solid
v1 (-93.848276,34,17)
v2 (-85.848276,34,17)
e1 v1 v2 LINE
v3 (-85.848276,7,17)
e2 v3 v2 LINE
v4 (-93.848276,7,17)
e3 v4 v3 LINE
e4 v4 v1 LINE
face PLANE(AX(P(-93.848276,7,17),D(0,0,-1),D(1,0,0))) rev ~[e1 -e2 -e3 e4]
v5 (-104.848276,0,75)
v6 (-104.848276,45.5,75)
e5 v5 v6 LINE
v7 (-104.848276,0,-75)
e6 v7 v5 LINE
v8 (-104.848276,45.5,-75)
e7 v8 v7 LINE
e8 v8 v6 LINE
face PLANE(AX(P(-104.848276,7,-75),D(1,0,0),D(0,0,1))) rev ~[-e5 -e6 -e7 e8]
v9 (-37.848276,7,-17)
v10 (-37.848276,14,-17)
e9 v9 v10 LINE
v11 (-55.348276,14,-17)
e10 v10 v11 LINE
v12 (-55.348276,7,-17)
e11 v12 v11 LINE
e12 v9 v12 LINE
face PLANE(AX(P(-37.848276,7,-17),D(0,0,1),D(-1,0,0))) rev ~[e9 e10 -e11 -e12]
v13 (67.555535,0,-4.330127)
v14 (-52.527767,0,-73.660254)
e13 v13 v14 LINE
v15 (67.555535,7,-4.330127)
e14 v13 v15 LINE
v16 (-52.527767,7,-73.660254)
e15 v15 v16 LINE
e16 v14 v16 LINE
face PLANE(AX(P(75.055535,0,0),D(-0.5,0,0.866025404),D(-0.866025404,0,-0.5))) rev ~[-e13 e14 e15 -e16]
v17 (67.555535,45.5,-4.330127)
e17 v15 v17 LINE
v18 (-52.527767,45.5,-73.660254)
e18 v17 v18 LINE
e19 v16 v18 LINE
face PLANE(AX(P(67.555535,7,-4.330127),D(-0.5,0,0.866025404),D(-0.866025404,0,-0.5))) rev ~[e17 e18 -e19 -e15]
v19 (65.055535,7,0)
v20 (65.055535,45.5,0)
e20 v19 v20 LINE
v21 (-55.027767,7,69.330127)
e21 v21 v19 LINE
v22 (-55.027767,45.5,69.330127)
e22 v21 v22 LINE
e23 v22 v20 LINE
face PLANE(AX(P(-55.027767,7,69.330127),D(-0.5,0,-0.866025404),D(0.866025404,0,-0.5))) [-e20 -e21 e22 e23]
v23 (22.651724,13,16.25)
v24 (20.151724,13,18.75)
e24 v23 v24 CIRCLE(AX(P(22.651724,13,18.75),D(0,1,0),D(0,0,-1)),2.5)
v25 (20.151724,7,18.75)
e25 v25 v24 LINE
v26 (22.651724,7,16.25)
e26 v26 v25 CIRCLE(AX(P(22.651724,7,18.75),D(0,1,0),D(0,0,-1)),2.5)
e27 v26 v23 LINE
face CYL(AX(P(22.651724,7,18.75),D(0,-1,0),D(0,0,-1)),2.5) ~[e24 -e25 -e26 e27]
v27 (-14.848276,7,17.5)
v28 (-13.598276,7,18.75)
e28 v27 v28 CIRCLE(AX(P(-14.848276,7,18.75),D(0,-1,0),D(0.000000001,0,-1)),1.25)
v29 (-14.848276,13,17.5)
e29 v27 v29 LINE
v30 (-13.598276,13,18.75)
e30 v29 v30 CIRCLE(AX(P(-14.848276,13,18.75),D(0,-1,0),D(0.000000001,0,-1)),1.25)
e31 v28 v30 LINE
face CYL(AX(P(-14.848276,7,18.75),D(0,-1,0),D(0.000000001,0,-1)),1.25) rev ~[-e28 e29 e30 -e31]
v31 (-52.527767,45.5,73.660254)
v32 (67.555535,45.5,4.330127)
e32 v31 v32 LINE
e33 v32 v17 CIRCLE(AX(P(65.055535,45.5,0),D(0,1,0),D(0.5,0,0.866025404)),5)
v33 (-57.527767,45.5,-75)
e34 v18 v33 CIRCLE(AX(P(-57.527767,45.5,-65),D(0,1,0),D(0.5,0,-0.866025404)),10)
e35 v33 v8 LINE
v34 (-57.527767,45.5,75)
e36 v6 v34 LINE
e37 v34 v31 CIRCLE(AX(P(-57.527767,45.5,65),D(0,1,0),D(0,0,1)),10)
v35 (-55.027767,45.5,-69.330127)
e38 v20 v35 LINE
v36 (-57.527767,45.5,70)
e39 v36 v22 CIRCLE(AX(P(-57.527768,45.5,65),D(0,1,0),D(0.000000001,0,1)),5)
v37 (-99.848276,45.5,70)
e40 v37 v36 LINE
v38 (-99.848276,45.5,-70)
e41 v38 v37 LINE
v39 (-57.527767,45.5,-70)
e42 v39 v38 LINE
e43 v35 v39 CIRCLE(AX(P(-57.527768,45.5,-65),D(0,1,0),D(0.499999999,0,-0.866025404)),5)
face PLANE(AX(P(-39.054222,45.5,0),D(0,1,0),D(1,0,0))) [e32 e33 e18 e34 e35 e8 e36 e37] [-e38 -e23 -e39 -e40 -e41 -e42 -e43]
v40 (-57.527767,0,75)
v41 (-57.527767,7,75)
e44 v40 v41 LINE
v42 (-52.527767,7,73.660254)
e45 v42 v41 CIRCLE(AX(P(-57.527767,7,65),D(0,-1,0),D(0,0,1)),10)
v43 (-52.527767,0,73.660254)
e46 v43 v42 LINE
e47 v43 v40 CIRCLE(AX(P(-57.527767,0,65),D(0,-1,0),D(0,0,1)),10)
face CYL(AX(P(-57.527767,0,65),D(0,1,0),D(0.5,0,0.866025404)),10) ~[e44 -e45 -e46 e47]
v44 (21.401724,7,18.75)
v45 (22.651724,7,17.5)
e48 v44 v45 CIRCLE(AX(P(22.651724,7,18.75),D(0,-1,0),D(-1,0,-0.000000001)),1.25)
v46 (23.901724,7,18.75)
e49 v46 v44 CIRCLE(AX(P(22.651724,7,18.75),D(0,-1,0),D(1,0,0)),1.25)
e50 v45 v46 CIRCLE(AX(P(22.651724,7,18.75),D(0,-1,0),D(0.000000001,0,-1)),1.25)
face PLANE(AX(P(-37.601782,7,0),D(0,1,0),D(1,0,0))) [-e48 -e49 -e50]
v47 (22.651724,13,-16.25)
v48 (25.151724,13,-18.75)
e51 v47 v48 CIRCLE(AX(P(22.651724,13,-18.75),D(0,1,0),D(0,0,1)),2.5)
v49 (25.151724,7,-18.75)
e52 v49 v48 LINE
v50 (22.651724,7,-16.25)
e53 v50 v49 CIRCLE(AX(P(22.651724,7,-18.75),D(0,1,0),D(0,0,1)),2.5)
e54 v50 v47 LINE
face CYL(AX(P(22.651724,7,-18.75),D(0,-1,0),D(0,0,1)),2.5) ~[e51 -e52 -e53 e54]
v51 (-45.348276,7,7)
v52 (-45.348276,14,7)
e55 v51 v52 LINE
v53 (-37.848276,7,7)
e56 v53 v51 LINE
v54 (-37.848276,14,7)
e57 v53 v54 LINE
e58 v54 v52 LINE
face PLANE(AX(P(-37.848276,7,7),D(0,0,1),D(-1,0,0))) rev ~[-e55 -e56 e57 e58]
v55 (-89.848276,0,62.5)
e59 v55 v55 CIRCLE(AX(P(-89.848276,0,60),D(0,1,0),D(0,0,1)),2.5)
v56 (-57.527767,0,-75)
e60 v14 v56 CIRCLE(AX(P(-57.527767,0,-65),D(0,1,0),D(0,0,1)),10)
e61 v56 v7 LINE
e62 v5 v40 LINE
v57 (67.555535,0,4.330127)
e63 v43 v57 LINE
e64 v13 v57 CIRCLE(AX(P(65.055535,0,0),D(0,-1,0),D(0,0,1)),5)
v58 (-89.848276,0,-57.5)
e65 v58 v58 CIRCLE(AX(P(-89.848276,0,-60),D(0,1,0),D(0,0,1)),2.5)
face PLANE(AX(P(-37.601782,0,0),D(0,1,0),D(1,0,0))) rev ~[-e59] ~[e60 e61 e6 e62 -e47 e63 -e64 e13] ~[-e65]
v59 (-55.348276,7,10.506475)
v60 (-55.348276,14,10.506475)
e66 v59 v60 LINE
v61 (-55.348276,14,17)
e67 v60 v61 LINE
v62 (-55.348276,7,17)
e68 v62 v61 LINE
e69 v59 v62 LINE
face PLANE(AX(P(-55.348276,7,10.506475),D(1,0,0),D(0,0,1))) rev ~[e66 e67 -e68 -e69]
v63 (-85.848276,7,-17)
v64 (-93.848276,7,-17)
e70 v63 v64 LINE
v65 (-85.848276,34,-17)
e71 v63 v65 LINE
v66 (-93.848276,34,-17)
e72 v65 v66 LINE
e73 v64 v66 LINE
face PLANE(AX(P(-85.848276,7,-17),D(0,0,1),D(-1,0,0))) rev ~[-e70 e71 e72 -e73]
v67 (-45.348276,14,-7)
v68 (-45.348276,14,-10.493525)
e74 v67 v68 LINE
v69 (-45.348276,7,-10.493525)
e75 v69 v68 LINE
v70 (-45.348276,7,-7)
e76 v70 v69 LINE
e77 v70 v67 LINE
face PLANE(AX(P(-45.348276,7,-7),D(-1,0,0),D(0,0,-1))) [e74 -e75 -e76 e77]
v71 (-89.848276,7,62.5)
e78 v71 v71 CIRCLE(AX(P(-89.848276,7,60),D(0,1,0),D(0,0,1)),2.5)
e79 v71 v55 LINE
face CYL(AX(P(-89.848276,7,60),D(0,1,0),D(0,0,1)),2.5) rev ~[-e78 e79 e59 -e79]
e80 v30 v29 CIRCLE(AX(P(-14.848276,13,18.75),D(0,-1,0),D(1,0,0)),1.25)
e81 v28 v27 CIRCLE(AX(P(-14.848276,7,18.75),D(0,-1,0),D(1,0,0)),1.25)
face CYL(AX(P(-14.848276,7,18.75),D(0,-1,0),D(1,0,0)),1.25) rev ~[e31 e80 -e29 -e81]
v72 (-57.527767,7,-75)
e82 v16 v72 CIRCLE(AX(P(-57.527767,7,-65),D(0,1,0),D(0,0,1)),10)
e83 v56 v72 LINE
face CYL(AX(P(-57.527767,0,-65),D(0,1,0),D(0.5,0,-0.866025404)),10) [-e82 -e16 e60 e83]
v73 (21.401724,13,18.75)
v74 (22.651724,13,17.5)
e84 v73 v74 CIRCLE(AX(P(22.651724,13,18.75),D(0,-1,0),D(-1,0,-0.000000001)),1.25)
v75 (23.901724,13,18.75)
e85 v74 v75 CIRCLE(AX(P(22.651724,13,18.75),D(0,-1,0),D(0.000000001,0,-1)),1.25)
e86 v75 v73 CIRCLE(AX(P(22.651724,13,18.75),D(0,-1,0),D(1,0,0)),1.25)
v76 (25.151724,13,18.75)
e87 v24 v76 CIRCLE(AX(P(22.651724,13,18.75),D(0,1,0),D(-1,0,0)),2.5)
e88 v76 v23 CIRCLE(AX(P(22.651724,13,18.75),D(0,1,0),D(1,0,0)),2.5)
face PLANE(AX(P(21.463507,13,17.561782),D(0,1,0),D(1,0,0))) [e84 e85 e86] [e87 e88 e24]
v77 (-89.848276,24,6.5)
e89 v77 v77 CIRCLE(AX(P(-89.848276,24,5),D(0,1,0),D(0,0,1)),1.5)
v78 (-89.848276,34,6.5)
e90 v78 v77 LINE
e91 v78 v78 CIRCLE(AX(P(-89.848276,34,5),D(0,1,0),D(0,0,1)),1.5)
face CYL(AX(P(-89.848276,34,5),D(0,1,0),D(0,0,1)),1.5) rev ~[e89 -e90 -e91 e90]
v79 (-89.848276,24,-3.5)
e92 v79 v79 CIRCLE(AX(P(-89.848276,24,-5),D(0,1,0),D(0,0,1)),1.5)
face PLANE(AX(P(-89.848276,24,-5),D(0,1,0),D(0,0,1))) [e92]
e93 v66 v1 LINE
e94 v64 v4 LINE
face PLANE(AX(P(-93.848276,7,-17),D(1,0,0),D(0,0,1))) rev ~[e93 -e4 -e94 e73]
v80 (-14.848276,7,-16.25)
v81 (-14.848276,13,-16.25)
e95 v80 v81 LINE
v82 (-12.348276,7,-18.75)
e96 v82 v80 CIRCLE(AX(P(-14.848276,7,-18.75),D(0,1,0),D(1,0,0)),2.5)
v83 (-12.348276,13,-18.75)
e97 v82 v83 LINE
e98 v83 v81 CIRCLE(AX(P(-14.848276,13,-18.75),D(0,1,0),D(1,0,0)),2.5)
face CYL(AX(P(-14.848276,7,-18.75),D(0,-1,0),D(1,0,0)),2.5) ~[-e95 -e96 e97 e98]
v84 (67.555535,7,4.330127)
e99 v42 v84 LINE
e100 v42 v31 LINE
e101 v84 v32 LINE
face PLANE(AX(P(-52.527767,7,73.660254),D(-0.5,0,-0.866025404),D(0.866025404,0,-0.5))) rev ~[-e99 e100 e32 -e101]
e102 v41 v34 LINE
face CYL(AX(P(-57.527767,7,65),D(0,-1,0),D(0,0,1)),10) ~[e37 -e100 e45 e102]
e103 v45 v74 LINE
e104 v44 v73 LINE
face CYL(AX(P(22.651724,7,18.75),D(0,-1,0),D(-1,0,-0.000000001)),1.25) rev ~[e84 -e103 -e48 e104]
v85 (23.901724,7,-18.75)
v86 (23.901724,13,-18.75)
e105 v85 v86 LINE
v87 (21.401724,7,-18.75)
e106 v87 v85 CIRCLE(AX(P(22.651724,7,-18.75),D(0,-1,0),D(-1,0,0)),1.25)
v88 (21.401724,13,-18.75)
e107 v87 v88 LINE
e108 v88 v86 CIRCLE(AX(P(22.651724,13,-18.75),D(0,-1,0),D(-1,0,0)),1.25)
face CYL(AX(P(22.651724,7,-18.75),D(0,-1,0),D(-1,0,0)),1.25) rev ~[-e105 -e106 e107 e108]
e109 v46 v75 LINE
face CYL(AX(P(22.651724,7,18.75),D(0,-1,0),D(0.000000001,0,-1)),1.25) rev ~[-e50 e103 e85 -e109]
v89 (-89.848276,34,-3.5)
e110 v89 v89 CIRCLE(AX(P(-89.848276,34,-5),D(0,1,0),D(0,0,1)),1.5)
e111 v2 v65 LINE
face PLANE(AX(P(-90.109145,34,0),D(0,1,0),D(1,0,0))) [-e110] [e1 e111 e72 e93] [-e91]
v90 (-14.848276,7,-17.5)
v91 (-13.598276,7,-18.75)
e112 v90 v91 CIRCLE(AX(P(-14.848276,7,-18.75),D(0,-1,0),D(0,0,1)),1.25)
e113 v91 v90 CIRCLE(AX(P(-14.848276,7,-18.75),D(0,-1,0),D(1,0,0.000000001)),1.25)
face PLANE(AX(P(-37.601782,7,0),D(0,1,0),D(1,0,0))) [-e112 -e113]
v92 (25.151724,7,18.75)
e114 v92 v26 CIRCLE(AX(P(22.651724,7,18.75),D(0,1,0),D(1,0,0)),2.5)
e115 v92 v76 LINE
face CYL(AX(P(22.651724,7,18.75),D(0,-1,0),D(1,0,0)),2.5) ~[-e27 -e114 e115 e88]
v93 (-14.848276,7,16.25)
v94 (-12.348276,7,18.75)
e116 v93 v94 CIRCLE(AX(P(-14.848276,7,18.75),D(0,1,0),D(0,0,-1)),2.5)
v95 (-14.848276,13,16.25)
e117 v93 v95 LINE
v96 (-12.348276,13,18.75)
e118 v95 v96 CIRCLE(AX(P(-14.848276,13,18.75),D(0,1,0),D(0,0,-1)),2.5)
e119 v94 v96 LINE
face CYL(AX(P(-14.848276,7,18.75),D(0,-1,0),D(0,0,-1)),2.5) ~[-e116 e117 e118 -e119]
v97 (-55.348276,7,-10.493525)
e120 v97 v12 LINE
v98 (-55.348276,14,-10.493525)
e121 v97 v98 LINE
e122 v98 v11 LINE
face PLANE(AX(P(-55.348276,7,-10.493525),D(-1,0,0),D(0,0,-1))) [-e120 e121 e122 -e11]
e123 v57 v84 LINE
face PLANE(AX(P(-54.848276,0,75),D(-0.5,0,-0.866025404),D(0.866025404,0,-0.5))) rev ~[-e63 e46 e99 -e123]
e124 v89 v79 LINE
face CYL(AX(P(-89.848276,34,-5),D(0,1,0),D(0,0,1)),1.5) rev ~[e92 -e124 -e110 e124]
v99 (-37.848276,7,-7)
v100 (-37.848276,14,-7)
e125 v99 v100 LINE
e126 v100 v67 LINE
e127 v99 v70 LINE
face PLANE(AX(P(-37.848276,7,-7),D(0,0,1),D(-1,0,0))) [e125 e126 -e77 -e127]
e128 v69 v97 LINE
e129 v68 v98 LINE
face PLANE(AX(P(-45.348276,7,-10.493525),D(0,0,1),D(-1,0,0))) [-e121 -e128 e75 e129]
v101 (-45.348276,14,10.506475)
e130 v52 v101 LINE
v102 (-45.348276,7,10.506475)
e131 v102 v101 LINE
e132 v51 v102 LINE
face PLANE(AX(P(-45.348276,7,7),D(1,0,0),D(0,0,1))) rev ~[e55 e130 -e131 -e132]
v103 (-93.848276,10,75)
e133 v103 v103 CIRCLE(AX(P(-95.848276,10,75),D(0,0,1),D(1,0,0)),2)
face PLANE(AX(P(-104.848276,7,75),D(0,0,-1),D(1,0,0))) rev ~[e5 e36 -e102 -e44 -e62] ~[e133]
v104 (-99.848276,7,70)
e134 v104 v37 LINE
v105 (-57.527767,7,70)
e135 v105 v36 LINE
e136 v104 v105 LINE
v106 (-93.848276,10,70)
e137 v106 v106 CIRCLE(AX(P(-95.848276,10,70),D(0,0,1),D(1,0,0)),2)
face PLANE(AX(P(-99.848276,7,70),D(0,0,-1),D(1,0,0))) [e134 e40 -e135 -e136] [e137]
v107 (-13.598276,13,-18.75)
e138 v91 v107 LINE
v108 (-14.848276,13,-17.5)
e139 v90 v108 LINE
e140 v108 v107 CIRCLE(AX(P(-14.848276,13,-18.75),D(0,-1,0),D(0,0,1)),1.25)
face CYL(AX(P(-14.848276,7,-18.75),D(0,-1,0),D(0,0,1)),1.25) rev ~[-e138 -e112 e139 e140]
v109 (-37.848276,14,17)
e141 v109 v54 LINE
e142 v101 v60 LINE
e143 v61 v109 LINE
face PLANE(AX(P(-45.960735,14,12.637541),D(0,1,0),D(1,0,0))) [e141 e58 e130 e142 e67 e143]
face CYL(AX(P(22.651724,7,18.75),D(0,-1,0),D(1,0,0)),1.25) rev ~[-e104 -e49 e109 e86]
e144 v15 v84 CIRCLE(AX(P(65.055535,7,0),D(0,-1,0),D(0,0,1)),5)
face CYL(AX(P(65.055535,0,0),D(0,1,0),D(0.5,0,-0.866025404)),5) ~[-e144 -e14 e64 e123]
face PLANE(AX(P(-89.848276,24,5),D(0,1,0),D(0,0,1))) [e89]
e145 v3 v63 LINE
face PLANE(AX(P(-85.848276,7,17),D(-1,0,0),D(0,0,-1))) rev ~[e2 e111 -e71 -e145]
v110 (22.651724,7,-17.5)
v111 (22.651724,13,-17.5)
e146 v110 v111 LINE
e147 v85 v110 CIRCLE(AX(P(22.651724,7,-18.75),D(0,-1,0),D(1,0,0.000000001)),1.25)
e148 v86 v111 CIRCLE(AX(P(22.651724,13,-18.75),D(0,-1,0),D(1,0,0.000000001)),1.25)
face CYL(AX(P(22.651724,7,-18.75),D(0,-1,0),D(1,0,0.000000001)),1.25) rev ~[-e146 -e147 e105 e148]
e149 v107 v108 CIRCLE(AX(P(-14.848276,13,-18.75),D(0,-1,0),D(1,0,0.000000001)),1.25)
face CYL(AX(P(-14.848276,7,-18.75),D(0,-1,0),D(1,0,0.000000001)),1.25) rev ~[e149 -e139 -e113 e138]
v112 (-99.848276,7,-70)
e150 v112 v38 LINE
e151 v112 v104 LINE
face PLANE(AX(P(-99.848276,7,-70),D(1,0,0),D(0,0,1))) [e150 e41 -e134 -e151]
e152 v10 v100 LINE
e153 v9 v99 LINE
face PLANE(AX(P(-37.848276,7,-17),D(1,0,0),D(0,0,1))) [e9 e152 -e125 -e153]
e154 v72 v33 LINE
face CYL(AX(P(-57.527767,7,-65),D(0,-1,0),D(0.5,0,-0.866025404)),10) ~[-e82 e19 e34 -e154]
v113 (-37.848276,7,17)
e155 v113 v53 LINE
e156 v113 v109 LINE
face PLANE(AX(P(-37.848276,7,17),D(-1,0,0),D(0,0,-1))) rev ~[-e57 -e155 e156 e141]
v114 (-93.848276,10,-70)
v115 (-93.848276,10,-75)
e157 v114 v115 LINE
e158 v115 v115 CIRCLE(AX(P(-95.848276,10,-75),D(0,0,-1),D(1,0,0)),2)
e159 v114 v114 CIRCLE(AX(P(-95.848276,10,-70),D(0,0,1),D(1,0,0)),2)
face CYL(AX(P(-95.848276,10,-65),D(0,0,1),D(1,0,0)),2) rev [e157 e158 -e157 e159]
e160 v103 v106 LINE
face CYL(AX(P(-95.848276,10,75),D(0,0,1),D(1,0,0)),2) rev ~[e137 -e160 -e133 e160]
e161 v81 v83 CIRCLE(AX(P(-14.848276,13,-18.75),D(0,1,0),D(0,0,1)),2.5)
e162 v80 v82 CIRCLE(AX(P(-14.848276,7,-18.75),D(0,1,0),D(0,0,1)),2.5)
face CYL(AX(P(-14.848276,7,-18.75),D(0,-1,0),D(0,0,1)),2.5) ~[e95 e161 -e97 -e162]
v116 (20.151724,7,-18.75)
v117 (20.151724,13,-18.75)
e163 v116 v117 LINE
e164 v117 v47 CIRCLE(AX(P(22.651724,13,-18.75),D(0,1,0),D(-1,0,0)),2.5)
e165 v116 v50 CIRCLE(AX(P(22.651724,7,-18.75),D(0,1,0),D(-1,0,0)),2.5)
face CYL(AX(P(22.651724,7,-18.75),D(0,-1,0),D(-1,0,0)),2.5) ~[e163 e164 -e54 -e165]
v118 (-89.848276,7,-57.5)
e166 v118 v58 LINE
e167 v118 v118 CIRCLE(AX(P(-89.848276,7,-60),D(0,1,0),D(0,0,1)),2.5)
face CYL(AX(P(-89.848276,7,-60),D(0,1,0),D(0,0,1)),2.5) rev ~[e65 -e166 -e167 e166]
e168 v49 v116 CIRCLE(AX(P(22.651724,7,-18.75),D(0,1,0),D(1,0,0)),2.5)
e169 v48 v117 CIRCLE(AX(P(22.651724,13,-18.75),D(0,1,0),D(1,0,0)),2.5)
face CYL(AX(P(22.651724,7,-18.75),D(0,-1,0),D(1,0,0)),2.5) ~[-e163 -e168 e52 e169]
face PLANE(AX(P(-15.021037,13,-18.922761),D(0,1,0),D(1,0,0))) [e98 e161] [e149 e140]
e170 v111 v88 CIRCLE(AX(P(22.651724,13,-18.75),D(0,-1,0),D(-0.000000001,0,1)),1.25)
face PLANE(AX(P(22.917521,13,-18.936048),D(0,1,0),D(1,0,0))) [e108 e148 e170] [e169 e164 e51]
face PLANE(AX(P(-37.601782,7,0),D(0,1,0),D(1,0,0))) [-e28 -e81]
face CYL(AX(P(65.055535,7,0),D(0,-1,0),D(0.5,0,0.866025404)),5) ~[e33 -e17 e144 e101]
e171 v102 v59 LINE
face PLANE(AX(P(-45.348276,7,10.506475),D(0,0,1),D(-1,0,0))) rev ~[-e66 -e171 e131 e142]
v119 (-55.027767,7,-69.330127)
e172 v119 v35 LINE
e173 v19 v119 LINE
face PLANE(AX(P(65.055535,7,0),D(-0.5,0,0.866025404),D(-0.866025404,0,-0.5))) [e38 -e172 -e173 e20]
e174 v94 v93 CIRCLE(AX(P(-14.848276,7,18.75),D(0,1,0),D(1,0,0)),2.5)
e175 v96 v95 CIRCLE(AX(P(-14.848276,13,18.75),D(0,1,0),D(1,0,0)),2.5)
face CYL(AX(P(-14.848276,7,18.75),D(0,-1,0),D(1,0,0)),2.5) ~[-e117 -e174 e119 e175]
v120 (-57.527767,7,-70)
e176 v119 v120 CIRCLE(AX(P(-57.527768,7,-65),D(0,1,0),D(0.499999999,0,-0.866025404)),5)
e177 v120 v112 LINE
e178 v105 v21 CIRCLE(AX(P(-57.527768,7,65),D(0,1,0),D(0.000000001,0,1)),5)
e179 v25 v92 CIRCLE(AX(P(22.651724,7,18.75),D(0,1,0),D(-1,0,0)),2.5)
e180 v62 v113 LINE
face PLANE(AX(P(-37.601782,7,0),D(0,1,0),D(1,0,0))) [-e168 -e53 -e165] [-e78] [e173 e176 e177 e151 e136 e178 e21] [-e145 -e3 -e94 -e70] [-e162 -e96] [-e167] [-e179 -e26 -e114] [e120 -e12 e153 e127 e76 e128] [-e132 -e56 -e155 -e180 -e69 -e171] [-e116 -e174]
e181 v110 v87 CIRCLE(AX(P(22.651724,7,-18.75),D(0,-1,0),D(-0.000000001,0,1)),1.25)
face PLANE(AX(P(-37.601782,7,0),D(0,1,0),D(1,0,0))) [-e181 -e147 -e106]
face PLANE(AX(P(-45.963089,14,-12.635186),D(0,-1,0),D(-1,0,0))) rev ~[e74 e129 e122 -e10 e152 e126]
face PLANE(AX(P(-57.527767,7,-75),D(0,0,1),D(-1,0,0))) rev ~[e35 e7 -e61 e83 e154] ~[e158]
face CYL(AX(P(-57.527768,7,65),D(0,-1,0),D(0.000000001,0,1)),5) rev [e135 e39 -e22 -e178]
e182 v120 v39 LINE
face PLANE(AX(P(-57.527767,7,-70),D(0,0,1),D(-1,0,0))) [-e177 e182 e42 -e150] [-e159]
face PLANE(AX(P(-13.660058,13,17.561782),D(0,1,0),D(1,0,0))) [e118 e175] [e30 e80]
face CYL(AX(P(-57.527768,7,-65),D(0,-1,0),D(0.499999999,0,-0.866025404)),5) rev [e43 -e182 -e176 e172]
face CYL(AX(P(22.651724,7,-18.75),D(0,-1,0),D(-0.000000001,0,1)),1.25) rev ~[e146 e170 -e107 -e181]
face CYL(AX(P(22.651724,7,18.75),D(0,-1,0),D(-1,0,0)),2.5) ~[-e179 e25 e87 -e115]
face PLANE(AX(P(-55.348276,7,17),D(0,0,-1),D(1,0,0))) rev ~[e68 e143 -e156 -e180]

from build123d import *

# Parameters (mm, degrees)
BOSS_EXTRUDE1_DEPTH = 7
FILLET1_R           = 5
FILLET2_R           = 10
CUT_EXTRUDE1_REACH  = 131.101
SKETCH3_R           = 2.5
BOSS_EXTRUDE2_DEPTH = 6
SKETCH7_W           = 4
SKETCH7_H           = 10
BOSS_EXTRUDE3_DEPTH = 27
SKETCH8_R           = 1.5
CUT_EXTRUDE2_DEPTH  = 10
BOSS_EXTRUDE4_DEPTH = 7
BOSS_EXTRUDE5_DEPTH = 7
BOSS_EXTRUDE6_DEPTH = 38.5
SKETCH14_R          = 2
CUT_EXTRUDE3_DEPTH  = 10
CUT_EXTRUDE4_START  = -10
SKETCH15_R          = 2
CUT_EXTRUDE4_DEPTH  = 10


with BuildPart() as part:
    # Sketch1 → Boss-Extrude1 (new body)
    with BuildSketch(Plane(origin=(0, 0, 0), x_dir=(1, 0, 0), z_dir=(0, 1, 0))):
        Polygon((75.055534995, 0), (-54.848275573, 75), (-104.848275573, 75), (-104.848275573, -75), (-54.848275573, -75), align=None)
    extrude(amount=BOSS_EXTRUDE1_DEPTH)

    # Fillet1
    fillet1_edges = [part.edges().sort_by_distance(p)[0] for p in [
        (75.055534995, 3.5, 0),
    ]]
    fillet(fillet1_edges, radius=FILLET1_R)

    # Fillet2
    fillet2_edges = [part.edges().sort_by_distance(p)[0] for p in [
        (-54.848275573, 3.5, 75),
        (-54.848275573, 3.5, -75),
    ]]
    fillet(fillet2_edges, radius=FILLET2_R)

    # Sketch3 → Cut-Extrude1 (cut, up to next)
    with BuildSketch(Plane(origin=(0, 7, 0), x_dir=(1, 0, 0), z_dir=(0, 1, 0)), mode=Mode.PRIVATE) as cut_extrude1_sk1:
        with Locations(Location((-89.848275573, 60, 0), (0, 0, 270))):
            Circle(SKETCH3_R)
    cut_extrude1_tool1 = extrude(cut_extrude1_sk1.sketch, amount=-CUT_EXTRUDE1_REACH, mode=Mode.PRIVATE) & part.part
    # Sketch3 → Cut-Extrude1 (cut, up to next)
    with BuildSketch(Plane(origin=(0, 7, 0), x_dir=(1, 0, 0), z_dir=(0, 1, 0)), mode=Mode.PRIVATE) as cut_extrude1_sk2:
        with Locations(Location((-89.848275573, -60, 0), (0, 0, 270))):
            Circle(SKETCH3_R)
    cut_extrude1_tool2 = extrude(cut_extrude1_sk2.sketch, amount=-CUT_EXTRUDE1_REACH, mode=Mode.PRIVATE) & part.part
    add(cut_extrude1_tool1.solids().sort_by_distance((-89.848276, 7, -60))[0], mode=Mode.SUBTRACT)
    add(cut_extrude1_tool2.solids().sort_by_distance((-89.848276, 7, 60))[0], mode=Mode.SUBTRACT)

    # Sketch6 → Boss-Extrude2 (add)
    with BuildSketch(Plane(origin=(0, 7, 0), x_dir=(1, 0, 0), z_dir=(0, 1, 0))):
        with BuildLine():
            ThreePointArc((-14.848275573, 17.5), (-15.732159049, 19.633883476), (-13.598275573, 18.75))
            Line((-13.598275573, 18.75), (-12.348275573, 18.75))
            ThreePointArc((-12.348275573, 18.75), (-16.616042526, 20.517766953), (-14.848275573, 16.25))
            Line((-14.848275573, 16.25), (-14.848275573, 17.5))
        make_face()
        with BuildLine():
            Line((-12.348275573, 18.75), (-13.598275573, 18.75))
            ThreePointArc((-13.598275573, 18.75), (-13.964392097, 17.866116524), (-14.848275573, 17.5))
            Line((-14.848275573, 17.5), (-14.848275573, 16.25))
            ThreePointArc((-14.848275573, 16.25), (-13.08050862, 16.982233047), (-12.348275573, 18.75))
        make_face()
        with BuildLine():
            ThreePointArc((23.901724427, 18.75), (23.535607903, 17.866116524), (22.651724427, 17.5))
            Line((22.651724427, 17.5), (22.651724427, 16.25))
            ThreePointArc((22.651724427, 16.25), (24.41949138, 16.982233047), (25.151724427, 18.75))
            ThreePointArc((25.151724427, 18.75), (22.651724427, 21.25), (20.151724427, 18.75))
            Line((20.151724427, 18.75), (21.401724427, 18.75))
            ThreePointArc((21.401724427, 18.75), (22.651724427, 20), (23.901724427, 18.75))
        make_face()
        with BuildLine():
            Line((22.651724427, 16.25), (22.651724427, 17.5))
            ThreePointArc((22.651724427, 17.5), (21.767840951, 17.866116524), (21.401724427, 18.75))
            Line((21.401724427, 18.75), (20.151724427, 18.75))
            ThreePointArc((20.151724427, 18.75), (20.883957474, 16.982233047), (22.651724427, 16.25))
        make_face()
        with BuildLine():
            ThreePointArc((22.651724427, -16.25), (20.883957474, -16.982233047), (20.151724427, -18.75))
            Line((20.151724427, -18.75), (21.401724427, -18.75))
            ThreePointArc((21.401724427, -18.75), (21.767840951, -17.866116524), (22.651724427, -17.5))
            Line((22.651724427, -17.5), (22.651724427, -16.25))
        make_face()
        with BuildLine():
            Line((21.401724427, -18.75), (20.151724427, -18.75))
            ThreePointArc((20.151724427, -18.75), (22.651724427, -21.25), (25.151724427, -18.75))
            ThreePointArc((25.151724427, -18.75), (24.41949138, -16.982233047), (22.651724427, -16.25))
            Line((22.651724427, -16.25), (22.651724427, -17.5))
            ThreePointArc((22.651724427, -17.5), (23.535607903, -17.866116524), (23.901724427, -18.75))
            ThreePointArc((23.901724427, -18.75), (22.651724427, -20), (21.401724427, -18.75))
        make_face()
        with BuildLine():
            ThreePointArc((-14.848275573, -17.5), (-13.964392097, -17.866116524), (-13.598275573, -18.75))
            Line((-13.598275573, -18.75), (-12.348275573, -18.75))
            ThreePointArc((-12.348275573, -18.75), (-13.08050862, -16.982233047), (-14.848275573, -16.25))
            Line((-14.848275573, -16.25), (-14.848275573, -17.5))
        make_face()
        with BuildLine():
            Line((-12.348275573, -18.75), (-13.598275573, -18.75))
            ThreePointArc((-13.598275573, -18.75), (-15.732159049, -19.633883476), (-14.848275573, -17.5))
            Line((-14.848275573, -17.5), (-14.848275573, -16.25))
            ThreePointArc((-14.848275573, -16.25), (-16.616042526, -20.517766953), (-12.348275573, -18.75))
        make_face()
    extrude(amount=BOSS_EXTRUDE2_DEPTH)

    # Sketch7 → Boss-Extrude3 (add)
    with BuildSketch(Plane(origin=(0, 7, 0), x_dir=(1, 0, 0), z_dir=(0, 1, 0))):
        Polygon((-89.848275573, 5), (-85.848275573, 5), (-85.848275573, 17), (-93.848275573, 17), (-93.848275573, -17), (-85.848275573, -17), (-85.848275573, -5), (-89.848275573, -5), align=None)
        with Locations((-87.848275573, 0)):
            Rectangle(SKETCH7_W, SKETCH7_H)
    extrude(amount=BOSS_EXTRUDE3_DEPTH)

    # Sketch8 → Cut-Extrude2 (cut)
    with BuildSketch(Plane(origin=(0, 34, 0), x_dir=(1, 0, 0), z_dir=(0, 1, 0))):
        with Locations(Location((-89.848275573, -5, 0), (0, 0, 270))):
            Circle(SKETCH8_R)
        with Locations(Location((-89.848275573, 5, 0), (0, 0, 270))):
            Circle(SKETCH8_R)
    extrude(amount=-CUT_EXTRUDE2_DEPTH, mode=Mode.SUBTRACT)

    # Sketch7<4> → Boss-Extrude4 (add)
    with BuildSketch(Plane(origin=(0, 7, 0), x_dir=(1, 0, 0), z_dir=(0, 1, 0))):
        Polygon((-45.848275573, -17), (-37.848275573, -17), (-37.848275573, -7), (-45.348275573, -7), (-45.348275573, -10.506475343), (-55.348275573, -10.506475343), (-55.348275573, -17), align=None)
    extrude(amount=BOSS_EXTRUDE4_DEPTH)

    # Sketch7<5> → Boss-Extrude5 (add)
    with BuildSketch(Plane(origin=(0, 7, 0), x_dir=(1, 0, 0), z_dir=(0, 1, 0))):
        Polygon((-45.848275573, 17), (-37.848275573, 17), (-37.848275573, 7), (-45.348275573, 7), (-45.348275573, 10.493524657), (-55.348275573, 10.493524657), (-55.348275573, 17), align=None)
    extrude(amount=BOSS_EXTRUDE5_DEPTH)

    # Sketch11 → Boss-Extrude6 (add)
    with BuildSketch(Plane(origin=(0, 7, 0), x_dir=(1, 0, 0), z_dir=(0, 1, 0))):
        with BuildLine():
            Line((-104.848275573, 75), (-104.848275573, -75))
            Line((-104.848275573, -75), (-57.527767497, -75))
            ThreePointArc((-57.527767497, -75), (-54.939577046, -74.659258263), (-52.527767497, -73.660254038))
            Line((-52.527767497, -73.660254038), (67.555534995, -4.330127019))
            ThreePointArc((67.555534995, -4.330127019), (70.055534995, 0), (67.555534995, 4.330127019))
            Line((67.555534995, 4.330127019), (-52.527767497, 73.660254038))
            ThreePointArc((-52.527767497, 73.660254038), (-54.939577046, 74.659258263), (-57.527767497, 75))
            Line((-57.527767497, 75), (-104.848275573, 75))
        make_face()
        with BuildLine():
            ThreePointArc((-55.027767497, 69.330127019), (-56.233672272, 69.829629131), (-57.527767497, 70))
            Line((-57.527767497, 70), (-99.848275573, 70))
            Line((-99.848275573, 70), (-99.848275573, -70))
            Line((-99.848275573, -70), (-57.527767497, -70))
            ThreePointArc((-57.527767497, -70), (-56.233672272, -69.829629131), (-55.027767497, -69.330127019))
            Line((-55.027767497, -69.330127019), (65.055534995, 0))
            Line((65.055534995, 0), (-55.027767497, 69.330127019))
        make_face(mode=Mode.SUBTRACT)
    extrude(amount=BOSS_EXTRUDE6_DEPTH)

    # Sketch14 → Cut-Extrude3 (cut)
    with BuildSketch(Plane.XY.offset(75)):
        with Locations((-95.848275573, 10)):
            Circle(SKETCH14_R)
    extrude(amount=-CUT_EXTRUDE3_DEPTH, mode=Mode.SUBTRACT)

    # Sketch15 → Cut-Extrude4 (cut)
    with BuildSketch(Plane(origin=(0, 0, -75), x_dir=(-1, 0, 0), z_dir=(0, 0, -1)).offset(CUT_EXTRUDE4_START)):
        with Locations(Location((95.848275573, 10, 0), (0, 0, 180))):
            Circle(SKETCH15_R)
    extrude(amount=CUT_EXTRUDE4_DEPTH, mode=Mode.SUBTRACT)


solid = part.part
